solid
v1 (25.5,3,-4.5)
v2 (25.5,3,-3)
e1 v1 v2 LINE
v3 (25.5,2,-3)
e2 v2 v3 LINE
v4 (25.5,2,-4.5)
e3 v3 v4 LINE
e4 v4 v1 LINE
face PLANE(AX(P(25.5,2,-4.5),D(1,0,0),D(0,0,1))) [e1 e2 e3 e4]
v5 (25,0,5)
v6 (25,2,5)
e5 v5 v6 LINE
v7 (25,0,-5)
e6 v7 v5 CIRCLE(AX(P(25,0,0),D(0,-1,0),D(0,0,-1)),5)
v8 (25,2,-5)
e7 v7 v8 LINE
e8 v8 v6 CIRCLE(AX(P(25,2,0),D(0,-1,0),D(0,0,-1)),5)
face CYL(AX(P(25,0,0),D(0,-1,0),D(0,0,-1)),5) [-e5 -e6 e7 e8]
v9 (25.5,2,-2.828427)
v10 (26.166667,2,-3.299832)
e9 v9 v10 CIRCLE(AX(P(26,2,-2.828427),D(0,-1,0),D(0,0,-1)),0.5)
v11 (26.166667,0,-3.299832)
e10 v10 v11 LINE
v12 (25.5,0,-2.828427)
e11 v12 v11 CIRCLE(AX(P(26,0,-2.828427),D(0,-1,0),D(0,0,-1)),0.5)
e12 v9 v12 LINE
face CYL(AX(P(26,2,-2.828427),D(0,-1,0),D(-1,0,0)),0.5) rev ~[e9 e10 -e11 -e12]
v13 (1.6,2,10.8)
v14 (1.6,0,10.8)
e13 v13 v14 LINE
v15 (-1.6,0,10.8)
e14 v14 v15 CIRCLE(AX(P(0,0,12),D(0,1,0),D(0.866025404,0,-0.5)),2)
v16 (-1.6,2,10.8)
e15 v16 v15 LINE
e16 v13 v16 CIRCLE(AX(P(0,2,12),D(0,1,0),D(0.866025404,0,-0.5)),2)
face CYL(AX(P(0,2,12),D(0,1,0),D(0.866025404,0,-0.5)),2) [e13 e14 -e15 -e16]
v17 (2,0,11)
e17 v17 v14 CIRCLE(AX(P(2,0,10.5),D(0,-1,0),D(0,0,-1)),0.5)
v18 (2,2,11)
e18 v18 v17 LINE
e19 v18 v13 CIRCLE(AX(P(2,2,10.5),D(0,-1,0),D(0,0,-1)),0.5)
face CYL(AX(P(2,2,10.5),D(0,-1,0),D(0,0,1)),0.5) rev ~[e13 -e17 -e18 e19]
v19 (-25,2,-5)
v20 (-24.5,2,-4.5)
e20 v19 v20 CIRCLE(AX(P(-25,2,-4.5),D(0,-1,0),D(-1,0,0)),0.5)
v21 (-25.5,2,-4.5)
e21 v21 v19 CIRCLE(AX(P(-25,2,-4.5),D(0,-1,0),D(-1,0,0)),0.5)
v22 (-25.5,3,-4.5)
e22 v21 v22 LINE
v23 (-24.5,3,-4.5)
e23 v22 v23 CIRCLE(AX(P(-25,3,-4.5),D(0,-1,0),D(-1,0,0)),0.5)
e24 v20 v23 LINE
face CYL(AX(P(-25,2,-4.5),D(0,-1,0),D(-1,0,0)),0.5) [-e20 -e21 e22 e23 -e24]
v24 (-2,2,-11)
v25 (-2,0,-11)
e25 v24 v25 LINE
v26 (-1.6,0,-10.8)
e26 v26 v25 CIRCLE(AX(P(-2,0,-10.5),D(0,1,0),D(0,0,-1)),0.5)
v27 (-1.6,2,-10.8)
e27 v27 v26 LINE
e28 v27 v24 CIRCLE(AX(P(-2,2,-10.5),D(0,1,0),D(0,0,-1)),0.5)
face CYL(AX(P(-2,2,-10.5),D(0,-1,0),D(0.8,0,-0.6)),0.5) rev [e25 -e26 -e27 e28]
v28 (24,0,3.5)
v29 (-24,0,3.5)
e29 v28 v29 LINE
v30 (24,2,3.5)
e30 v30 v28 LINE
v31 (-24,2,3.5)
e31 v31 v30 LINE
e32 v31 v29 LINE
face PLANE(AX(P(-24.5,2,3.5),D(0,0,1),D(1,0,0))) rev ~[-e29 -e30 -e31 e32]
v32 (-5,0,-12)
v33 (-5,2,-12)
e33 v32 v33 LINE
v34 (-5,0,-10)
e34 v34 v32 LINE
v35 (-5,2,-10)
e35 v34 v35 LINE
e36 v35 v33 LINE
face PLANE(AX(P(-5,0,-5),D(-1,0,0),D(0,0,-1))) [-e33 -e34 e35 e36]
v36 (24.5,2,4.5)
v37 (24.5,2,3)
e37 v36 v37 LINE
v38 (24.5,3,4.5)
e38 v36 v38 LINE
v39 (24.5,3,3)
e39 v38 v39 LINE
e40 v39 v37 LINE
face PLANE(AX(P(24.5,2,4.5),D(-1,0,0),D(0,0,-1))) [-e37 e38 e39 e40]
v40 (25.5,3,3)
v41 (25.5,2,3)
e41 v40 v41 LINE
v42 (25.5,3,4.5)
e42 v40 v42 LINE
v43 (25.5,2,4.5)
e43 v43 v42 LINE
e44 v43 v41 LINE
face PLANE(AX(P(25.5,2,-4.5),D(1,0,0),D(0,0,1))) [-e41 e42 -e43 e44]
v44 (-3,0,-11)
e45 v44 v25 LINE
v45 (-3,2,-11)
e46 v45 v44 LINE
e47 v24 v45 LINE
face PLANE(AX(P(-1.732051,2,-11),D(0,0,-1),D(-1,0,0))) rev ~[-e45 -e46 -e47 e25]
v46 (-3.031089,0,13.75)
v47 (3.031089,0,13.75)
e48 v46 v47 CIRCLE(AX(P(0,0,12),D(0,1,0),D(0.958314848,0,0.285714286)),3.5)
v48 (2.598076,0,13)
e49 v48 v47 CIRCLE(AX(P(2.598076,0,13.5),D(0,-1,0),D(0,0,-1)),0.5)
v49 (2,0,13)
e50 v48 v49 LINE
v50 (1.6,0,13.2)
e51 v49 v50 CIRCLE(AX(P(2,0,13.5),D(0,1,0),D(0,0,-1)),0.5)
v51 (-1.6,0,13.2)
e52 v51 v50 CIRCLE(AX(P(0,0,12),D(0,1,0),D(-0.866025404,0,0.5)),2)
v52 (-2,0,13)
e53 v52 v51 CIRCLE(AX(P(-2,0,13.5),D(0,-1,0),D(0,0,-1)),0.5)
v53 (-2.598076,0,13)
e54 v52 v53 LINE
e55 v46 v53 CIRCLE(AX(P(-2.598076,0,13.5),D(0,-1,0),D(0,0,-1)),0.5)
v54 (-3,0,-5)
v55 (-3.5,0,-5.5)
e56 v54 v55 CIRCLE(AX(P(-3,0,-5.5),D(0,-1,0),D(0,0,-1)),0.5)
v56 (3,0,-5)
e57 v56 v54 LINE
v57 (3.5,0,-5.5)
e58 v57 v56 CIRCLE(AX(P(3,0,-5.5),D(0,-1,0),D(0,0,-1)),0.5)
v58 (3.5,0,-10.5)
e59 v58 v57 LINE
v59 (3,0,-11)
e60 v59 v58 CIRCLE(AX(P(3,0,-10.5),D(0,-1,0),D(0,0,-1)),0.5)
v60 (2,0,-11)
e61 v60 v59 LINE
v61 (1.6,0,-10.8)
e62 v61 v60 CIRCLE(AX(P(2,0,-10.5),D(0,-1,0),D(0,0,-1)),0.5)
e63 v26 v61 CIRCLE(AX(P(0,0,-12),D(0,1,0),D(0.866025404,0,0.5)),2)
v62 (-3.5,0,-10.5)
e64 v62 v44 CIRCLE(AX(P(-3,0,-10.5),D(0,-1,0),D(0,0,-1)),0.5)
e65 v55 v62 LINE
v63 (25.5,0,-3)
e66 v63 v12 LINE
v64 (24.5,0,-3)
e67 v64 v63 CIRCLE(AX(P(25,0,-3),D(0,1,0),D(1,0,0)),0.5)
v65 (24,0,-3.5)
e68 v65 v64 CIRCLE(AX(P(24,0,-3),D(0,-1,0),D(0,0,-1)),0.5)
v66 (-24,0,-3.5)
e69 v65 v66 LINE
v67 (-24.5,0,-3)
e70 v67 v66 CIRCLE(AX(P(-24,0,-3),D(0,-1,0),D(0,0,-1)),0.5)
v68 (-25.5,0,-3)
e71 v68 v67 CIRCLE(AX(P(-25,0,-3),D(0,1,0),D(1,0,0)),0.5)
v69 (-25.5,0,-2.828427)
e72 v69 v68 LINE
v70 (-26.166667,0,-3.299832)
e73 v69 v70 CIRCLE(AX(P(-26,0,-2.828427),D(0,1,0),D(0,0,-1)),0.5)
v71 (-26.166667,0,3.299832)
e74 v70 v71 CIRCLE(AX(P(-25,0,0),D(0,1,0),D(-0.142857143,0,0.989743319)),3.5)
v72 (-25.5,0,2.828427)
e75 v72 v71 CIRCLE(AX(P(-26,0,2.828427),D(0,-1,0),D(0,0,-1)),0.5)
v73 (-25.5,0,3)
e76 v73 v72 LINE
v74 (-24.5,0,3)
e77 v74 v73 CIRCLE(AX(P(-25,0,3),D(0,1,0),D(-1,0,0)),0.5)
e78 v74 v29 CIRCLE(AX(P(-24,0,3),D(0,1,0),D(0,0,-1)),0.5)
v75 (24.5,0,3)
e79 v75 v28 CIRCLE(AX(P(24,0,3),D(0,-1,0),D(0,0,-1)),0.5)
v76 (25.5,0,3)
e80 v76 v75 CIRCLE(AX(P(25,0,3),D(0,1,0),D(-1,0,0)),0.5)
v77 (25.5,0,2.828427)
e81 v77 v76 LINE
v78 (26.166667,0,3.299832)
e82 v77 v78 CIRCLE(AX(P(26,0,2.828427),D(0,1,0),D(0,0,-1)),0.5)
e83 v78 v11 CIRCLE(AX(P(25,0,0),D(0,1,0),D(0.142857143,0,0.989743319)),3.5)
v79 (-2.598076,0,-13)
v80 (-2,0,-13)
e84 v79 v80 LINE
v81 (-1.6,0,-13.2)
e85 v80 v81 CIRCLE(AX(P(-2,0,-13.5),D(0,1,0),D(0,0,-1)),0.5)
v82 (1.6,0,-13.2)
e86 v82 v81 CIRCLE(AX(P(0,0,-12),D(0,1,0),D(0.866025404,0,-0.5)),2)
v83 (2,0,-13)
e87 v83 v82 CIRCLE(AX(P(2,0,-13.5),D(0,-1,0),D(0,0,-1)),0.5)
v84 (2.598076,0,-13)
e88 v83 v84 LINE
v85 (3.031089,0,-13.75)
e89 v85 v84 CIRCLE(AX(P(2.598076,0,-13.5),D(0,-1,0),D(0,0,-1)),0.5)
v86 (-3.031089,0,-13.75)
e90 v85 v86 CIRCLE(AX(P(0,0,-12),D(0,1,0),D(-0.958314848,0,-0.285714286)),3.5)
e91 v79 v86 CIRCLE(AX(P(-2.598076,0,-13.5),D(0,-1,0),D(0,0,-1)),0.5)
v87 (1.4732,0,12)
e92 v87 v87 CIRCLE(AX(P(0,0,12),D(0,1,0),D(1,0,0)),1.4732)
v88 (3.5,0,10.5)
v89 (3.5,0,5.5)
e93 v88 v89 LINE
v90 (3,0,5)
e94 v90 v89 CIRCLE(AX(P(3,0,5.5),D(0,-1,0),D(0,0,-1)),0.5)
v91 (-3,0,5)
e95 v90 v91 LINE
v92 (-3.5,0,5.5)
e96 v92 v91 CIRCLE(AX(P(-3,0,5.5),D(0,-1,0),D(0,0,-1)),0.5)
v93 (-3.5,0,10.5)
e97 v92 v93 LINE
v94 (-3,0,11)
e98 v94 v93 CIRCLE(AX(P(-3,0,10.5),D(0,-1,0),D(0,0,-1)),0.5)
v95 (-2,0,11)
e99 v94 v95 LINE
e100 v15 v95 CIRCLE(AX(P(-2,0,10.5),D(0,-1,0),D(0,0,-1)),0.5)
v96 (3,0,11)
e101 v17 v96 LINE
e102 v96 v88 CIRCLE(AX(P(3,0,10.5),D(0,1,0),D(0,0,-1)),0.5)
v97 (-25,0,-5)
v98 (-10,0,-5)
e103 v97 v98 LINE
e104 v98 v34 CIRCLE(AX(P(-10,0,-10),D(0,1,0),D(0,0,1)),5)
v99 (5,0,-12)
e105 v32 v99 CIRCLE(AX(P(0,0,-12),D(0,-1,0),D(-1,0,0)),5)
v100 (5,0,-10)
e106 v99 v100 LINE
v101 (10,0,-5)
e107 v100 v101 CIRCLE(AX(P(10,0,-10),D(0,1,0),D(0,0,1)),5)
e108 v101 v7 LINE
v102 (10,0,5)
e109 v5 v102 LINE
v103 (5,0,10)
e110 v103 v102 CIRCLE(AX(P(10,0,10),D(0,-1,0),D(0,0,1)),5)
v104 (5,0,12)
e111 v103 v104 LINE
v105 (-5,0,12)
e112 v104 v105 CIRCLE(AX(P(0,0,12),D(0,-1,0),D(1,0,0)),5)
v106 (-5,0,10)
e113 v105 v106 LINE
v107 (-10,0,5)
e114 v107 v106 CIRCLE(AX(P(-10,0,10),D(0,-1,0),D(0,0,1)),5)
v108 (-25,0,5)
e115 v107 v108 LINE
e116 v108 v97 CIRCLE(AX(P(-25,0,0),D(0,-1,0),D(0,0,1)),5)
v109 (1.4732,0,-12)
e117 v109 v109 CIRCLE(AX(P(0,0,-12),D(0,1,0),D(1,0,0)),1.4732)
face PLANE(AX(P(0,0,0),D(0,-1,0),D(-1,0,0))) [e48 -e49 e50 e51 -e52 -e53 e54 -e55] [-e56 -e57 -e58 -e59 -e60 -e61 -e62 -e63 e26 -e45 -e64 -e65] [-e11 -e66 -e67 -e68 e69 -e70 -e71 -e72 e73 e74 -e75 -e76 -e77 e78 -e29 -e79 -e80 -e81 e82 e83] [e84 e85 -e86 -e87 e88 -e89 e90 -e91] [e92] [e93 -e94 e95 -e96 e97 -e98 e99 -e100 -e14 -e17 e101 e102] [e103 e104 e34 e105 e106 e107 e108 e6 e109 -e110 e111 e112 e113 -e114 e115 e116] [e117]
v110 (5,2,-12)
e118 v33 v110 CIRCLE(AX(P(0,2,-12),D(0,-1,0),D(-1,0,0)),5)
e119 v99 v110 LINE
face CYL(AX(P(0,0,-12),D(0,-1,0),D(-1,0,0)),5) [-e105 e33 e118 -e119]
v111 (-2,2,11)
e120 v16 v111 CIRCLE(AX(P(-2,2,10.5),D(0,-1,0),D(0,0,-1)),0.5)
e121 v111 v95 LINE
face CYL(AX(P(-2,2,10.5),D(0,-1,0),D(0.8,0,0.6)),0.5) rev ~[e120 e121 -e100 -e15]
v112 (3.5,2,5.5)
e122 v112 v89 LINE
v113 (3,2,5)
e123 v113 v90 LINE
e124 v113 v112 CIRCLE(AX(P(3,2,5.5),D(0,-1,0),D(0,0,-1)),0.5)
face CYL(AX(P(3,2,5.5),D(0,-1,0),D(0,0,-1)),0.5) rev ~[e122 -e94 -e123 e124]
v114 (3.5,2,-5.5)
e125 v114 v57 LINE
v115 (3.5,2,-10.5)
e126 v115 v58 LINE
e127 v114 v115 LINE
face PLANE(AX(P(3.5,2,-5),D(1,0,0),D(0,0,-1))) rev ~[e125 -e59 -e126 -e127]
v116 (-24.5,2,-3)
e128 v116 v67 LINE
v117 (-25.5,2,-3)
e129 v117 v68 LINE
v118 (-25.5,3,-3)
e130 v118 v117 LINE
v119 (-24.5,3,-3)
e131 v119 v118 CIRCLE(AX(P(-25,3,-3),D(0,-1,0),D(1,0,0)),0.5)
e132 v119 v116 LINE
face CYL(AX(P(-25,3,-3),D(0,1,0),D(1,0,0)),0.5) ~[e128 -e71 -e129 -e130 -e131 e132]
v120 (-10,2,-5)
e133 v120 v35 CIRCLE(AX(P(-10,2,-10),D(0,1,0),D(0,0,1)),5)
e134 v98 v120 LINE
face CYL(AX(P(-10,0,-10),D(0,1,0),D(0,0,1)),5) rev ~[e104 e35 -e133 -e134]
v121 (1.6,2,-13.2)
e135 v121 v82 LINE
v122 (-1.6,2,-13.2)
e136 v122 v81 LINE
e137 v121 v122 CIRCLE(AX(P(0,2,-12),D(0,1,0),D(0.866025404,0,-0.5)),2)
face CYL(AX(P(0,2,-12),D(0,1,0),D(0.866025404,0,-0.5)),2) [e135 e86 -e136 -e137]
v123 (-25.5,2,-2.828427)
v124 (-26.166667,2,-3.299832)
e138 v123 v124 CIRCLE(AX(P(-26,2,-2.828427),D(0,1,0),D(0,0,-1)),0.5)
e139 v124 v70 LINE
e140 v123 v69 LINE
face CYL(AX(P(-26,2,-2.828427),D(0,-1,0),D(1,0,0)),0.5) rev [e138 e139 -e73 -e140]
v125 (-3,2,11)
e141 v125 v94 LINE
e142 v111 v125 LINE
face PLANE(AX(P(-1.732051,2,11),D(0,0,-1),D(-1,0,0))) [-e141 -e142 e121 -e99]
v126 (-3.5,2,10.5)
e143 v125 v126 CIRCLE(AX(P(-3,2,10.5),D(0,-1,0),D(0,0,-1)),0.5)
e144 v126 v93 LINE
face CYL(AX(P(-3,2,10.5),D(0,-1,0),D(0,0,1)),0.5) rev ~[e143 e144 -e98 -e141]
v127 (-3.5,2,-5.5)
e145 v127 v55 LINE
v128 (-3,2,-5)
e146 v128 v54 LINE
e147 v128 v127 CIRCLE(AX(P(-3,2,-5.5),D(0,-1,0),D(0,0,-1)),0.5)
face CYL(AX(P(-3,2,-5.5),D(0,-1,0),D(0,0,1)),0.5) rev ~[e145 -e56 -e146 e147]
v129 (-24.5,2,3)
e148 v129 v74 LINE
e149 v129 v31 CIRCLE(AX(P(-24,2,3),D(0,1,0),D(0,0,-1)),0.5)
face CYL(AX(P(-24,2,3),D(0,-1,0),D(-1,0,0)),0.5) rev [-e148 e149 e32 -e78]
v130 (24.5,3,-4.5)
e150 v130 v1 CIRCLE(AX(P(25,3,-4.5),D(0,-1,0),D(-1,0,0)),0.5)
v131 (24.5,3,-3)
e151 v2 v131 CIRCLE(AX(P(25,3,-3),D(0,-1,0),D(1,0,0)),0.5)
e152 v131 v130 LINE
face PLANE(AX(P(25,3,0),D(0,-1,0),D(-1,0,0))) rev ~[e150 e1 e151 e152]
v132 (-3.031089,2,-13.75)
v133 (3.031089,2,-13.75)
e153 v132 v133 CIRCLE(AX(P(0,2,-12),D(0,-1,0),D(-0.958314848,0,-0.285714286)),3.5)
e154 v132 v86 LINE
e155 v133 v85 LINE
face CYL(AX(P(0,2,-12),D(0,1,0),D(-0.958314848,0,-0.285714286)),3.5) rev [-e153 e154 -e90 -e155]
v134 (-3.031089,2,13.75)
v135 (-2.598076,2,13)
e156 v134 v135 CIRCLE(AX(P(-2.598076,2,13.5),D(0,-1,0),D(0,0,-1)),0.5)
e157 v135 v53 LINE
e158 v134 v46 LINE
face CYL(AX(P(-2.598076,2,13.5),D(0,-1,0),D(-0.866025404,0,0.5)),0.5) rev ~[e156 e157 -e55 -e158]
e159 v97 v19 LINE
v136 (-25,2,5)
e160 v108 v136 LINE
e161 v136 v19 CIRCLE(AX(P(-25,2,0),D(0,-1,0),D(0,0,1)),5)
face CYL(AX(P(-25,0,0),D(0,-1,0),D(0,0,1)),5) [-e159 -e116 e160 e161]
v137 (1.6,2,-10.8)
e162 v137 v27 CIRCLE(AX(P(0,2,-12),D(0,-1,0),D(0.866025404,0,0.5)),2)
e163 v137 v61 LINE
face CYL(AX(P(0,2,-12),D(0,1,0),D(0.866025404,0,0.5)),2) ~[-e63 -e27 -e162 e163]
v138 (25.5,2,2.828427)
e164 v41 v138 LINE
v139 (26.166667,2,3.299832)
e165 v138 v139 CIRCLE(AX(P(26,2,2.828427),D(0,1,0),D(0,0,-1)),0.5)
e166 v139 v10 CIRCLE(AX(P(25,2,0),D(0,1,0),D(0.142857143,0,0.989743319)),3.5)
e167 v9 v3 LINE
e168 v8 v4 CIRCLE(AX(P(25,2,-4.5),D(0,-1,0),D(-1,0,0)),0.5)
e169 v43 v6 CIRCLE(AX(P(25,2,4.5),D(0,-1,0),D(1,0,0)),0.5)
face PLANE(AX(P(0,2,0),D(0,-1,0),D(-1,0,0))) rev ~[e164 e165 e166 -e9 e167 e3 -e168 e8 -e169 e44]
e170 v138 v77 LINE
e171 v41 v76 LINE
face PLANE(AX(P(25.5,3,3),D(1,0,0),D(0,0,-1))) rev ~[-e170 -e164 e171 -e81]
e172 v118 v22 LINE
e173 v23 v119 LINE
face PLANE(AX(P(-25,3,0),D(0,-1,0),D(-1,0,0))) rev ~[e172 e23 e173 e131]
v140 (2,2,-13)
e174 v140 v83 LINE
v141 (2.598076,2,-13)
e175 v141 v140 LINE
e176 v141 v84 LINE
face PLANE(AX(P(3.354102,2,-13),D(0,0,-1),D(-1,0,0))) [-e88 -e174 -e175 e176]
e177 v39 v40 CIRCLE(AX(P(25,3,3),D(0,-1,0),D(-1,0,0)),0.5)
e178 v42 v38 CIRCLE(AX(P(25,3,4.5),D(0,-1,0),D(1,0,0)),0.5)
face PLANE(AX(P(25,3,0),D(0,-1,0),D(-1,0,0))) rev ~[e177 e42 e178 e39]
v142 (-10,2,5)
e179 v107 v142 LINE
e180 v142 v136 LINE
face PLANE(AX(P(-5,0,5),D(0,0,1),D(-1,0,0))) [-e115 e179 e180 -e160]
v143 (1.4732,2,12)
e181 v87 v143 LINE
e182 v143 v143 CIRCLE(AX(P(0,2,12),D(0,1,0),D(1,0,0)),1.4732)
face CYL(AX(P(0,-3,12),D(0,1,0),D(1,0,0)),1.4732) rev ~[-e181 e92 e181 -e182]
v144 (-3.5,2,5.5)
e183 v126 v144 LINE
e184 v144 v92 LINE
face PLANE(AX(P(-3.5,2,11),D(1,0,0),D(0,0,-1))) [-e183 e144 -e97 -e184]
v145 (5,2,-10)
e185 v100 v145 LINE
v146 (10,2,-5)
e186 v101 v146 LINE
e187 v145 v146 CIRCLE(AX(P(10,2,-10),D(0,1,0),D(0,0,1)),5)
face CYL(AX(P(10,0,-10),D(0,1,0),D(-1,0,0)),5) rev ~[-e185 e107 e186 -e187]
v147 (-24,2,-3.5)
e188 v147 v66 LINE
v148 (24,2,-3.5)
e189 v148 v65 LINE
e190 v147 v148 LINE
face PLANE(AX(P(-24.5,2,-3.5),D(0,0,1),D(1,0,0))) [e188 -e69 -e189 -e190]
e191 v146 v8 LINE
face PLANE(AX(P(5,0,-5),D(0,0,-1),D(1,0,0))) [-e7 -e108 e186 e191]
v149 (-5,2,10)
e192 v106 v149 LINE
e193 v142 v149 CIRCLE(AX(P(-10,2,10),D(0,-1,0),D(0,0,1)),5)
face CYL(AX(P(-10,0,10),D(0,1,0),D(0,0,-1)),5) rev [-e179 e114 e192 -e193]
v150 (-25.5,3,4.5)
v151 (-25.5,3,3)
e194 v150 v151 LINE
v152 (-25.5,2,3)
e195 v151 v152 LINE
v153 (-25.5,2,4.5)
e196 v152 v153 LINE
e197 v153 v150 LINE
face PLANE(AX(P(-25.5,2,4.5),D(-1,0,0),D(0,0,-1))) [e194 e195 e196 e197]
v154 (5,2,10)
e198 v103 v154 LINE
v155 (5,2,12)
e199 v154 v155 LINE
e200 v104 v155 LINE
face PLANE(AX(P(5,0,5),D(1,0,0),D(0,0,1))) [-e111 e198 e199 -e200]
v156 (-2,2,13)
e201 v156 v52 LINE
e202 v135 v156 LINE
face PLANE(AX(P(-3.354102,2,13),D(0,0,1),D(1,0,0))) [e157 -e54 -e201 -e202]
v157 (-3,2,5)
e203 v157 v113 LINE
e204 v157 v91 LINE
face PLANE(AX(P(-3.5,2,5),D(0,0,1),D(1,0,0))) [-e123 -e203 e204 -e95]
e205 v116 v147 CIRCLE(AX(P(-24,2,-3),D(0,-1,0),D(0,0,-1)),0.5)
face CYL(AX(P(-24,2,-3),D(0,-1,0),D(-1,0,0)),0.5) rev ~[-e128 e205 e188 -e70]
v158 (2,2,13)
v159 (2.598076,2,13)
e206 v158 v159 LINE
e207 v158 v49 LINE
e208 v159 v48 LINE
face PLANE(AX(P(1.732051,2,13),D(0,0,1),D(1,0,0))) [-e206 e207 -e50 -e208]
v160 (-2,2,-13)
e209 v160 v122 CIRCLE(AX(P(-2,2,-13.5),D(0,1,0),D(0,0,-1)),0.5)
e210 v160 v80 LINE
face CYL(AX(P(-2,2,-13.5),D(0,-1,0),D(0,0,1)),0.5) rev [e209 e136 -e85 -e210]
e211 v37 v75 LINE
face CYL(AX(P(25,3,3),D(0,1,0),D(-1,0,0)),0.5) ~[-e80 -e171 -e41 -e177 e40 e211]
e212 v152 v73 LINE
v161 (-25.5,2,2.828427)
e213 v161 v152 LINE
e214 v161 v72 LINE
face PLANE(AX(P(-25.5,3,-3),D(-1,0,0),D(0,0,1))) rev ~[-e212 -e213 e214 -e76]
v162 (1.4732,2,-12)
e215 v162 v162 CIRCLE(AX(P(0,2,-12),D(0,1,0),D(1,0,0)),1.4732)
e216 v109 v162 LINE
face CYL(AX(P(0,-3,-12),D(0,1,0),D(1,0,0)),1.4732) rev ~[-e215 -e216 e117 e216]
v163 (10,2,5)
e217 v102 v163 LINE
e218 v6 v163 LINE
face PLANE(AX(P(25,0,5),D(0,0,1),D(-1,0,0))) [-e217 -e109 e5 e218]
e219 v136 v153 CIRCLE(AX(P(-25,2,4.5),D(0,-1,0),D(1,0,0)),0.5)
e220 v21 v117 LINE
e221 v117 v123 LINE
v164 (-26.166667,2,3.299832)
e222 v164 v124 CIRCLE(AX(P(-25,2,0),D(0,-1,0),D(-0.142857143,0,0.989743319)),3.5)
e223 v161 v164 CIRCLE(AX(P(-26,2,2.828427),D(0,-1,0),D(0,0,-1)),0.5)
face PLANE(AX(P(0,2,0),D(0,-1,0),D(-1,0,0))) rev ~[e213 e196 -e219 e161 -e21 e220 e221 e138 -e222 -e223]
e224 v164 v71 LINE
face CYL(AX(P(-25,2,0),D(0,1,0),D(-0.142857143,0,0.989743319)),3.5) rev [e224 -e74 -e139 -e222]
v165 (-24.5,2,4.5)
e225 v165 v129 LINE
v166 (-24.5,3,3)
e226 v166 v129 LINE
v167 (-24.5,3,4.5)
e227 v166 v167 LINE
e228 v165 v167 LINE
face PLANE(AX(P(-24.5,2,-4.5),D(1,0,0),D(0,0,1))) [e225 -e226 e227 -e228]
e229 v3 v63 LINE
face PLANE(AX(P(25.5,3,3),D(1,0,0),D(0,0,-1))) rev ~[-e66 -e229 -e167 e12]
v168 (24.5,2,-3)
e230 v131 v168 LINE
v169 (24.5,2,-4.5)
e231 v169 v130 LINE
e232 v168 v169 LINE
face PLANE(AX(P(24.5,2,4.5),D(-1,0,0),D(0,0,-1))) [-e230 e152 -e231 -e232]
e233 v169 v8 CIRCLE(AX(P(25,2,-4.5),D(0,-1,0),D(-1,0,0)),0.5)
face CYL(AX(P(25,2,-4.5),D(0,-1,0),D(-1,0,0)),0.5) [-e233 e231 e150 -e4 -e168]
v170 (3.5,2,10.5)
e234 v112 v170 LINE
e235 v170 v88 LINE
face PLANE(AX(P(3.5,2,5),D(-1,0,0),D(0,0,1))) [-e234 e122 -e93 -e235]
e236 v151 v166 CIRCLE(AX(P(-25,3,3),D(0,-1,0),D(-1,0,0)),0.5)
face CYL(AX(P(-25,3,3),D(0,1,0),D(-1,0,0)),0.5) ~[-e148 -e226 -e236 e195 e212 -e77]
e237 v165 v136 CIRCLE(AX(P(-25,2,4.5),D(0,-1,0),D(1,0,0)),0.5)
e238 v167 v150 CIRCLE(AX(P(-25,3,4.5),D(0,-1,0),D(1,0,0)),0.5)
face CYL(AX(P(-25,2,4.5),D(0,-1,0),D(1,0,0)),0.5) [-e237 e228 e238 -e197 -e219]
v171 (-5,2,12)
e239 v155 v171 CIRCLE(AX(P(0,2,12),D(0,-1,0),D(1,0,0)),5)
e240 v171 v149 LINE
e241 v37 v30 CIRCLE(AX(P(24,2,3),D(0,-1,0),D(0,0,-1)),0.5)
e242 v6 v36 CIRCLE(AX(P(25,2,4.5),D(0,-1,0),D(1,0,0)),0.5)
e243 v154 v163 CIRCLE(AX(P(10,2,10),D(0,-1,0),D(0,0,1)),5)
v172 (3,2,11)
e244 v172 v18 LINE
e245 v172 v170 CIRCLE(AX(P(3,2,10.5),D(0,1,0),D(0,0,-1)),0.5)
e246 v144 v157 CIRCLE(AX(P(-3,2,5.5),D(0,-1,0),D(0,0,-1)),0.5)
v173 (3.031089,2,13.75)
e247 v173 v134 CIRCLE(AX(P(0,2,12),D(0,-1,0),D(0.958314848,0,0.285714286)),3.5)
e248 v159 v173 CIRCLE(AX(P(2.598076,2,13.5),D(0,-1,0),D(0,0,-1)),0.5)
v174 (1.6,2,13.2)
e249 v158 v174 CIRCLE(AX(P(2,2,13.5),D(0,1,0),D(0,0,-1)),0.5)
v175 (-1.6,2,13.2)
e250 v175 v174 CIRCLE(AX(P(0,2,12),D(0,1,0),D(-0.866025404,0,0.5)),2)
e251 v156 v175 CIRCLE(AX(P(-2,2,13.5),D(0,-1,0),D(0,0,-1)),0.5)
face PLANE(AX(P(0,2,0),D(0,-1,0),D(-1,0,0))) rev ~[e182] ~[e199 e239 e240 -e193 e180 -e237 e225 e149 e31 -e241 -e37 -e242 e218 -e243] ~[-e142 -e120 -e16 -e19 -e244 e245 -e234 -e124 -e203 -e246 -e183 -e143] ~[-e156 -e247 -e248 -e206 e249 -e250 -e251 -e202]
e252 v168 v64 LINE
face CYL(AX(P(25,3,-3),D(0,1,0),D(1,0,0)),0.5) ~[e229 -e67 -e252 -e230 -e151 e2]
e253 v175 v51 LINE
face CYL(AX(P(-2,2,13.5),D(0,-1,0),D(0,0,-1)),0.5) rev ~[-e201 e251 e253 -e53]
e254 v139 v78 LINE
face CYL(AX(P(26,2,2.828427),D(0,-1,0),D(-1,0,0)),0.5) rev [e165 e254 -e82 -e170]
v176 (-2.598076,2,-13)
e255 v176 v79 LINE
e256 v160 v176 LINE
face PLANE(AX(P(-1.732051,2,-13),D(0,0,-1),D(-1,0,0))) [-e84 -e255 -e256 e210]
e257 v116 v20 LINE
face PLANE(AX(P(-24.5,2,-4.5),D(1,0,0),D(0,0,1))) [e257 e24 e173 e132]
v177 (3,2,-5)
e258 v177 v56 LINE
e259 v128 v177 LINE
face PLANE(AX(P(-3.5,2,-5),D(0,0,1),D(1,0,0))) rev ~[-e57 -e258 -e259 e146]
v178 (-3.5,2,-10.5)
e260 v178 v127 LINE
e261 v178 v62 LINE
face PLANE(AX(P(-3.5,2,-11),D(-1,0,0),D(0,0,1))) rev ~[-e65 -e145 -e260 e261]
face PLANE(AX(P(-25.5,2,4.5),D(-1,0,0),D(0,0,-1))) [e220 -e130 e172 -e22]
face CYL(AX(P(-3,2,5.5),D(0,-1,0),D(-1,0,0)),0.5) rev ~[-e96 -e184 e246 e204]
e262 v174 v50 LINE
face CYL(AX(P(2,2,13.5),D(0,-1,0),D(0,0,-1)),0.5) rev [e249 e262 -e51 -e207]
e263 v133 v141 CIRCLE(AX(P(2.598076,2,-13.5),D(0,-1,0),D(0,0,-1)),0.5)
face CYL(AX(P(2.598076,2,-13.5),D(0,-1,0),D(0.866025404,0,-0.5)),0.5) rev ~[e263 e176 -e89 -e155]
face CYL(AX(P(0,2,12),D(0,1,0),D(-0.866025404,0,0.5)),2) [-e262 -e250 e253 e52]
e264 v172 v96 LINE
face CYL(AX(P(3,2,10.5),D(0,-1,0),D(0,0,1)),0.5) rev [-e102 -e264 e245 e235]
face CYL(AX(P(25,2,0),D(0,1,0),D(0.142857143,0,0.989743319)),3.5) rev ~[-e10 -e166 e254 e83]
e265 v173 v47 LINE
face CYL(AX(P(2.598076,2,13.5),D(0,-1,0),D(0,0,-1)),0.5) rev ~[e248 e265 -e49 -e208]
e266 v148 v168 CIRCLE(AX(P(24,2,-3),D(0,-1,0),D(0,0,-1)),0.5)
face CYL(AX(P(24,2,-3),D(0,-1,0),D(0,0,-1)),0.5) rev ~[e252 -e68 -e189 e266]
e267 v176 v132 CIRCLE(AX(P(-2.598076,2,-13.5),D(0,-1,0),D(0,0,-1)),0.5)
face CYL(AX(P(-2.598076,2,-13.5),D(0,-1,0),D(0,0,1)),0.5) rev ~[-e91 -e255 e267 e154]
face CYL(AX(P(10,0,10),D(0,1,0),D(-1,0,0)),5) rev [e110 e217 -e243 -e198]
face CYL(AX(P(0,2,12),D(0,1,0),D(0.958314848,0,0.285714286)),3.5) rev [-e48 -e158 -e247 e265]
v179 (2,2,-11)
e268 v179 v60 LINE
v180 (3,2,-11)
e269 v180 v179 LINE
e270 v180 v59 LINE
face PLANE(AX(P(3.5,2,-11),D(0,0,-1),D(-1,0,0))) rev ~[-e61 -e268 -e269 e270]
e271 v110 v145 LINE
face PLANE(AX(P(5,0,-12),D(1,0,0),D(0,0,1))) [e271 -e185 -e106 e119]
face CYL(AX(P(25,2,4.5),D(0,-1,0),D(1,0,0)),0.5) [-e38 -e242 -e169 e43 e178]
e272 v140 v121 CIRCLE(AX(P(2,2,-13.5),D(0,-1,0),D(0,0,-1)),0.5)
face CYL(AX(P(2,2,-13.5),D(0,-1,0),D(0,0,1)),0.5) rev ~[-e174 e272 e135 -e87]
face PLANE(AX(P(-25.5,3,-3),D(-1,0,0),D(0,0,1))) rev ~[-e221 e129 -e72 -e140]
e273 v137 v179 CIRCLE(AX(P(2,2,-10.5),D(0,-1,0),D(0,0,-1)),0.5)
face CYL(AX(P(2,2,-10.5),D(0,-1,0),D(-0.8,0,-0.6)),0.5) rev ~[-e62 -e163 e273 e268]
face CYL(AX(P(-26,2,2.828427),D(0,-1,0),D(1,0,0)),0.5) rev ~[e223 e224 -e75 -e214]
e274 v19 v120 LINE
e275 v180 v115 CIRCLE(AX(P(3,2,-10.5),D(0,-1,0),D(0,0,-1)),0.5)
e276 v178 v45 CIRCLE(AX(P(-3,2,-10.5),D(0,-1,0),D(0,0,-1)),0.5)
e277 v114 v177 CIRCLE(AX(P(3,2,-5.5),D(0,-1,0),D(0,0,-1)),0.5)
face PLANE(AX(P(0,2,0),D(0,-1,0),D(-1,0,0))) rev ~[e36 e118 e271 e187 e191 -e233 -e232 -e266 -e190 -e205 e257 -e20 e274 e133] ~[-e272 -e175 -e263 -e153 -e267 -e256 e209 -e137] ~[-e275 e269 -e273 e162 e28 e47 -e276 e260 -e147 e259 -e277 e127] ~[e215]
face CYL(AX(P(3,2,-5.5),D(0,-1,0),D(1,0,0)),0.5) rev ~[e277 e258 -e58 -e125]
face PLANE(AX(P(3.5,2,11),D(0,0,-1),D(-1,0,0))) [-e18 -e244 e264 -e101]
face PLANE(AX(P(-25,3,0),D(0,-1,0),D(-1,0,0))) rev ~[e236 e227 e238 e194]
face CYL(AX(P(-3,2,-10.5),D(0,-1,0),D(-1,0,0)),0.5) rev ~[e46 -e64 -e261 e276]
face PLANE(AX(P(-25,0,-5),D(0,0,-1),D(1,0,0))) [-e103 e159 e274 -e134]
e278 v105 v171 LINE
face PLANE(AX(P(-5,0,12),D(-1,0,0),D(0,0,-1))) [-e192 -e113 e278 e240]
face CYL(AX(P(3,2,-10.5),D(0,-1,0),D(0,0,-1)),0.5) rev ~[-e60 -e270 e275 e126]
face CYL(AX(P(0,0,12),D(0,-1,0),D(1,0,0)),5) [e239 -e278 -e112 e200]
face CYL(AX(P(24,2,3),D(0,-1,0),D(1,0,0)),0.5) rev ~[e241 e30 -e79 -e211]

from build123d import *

# Parameters (mm, degrees)
SKETCH1_R                 = 1
BOSS_EXTRUDE1_DEPTH       = 2
BOSS_EXTRUDE2_DEPTH       = 1
SKETCH3_W                 = 49
SKETCH3_H                 = 7
CUT_EXTRUDE1_DEPTH        = 35.539832078
FILLET2_R                 = 0.5
F_4_CLEARANCE_HOLE1_D     = 2.9464
F_4_CLEARANCE_HOLE1_DEPTH = 3
FILLET3_R                 = 5
CUT_EXTRUDE2_DEPTH        = 35.6121366


with BuildPart() as part:
    # Sketch1 → Boss-Extrude1 (new body)
    with BuildSketch(Plane(origin=(0, 0, 0), x_dir=(1, 0, 0), z_dir=(0, 1, 0))):
        with BuildLine():
            Line((-25, 5), (-5, 5))
            Line((-5, 5), (-5, 12))
            ThreePointArc((-5, 12), (0, 17), (5, 12))
            Line((5, 12), (5, 5))
            Line((5, 5), (25, 5))
            ThreePointArc((25, 5), (30, 0), (25, -5))
            Line((25, -5), (5, -5))
            Line((5, -5), (5, -12))
            ThreePointArc((5, -12), (0, -17), (-5, -12))
            Line((-5, -12), (-5, -5))
            Line((-5, -5), (-25, -5))
            ThreePointArc((-25, -5), (-30, 0), (-25, 5))
        make_face()
        with Locations(Location((0, 12, 0), (0, 0, 270))):
            Circle(SKETCH1_R, mode=Mode.SUBTRACT)
        with Locations(Location((0, -12, 0), (0, 0, 270))):
            Circle(SKETCH1_R, mode=Mode.SUBTRACT)
    extrude(amount=BOSS_EXTRUDE1_DEPTH)

    # Sketch2 → Boss-Extrude2 (add)
    with BuildSketch(Plane(origin=(0, 2, 0), x_dir=(1, 0, 0), z_dir=(0, 1, 0))):
        with BuildLine():
            Line((-24.5, 4.5), (-24.5, -4.5))
            ThreePointArc((-24.5, -4.5), (-25, -5), (-25.5, -4.5))
            Line((-25.5, -4.5), (-25.5, 4.5))
            ThreePointArc((-25.5, 4.5), (-25, 5), (-24.5, 4.5))
        make_face()
        with BuildLine():
            Line((25.5, 4.5), (25.5, -4.5))
            ThreePointArc((25.5, -4.5), (25, -5), (24.5, -4.5))
            Line((24.5, -4.5), (24.5, 4.5))
            ThreePointArc((24.5, 4.5), (25, 5), (25.5, 4.5))
        make_face()
    extrude(amount=BOSS_EXTRUDE2_DEPTH)

    # Sketch3 → Cut-Extrude1 (cut, through all)
    with BuildSketch(Plane(origin=(0, 2, 0), x_dir=(1, 0, 0), z_dir=(0, 1, 0))):
        Rectangle(SKETCH3_W, SKETCH3_H)
        with BuildLine():
            Line((-25.5, 3.464101615), (-25.5, -3.464101615))
            ThreePointArc((-25.5, -3.464101615), (-28.5, 0), (-25.5, 3.464101615))
        make_face()
        with BuildLine():
            Line((25.5, 3.464101615), (25.5, -3.464101615))
            ThreePointArc((25.5, -3.464101615), (28.5, 0), (25.5, 3.464101615))
        make_face()
        with BuildLine():
            Line((-1.732050808, 13), (-3.354101966, 13))
            ThreePointArc((-3.354101966, 13), (0, 15.5), (3.354101966, 13))
            Line((3.354101966, 13), (1.732050808, 13))
            ThreePointArc((1.732050808, 13), (0, 14), (-1.732050808, 13))
        make_face()
        with BuildLine():
            Line((-1.732050808, 11), (-3.5, 11))
            Line((-3.5, 11), (-3.5, 5))
            Line((-3.5, 5), (3.5, 5))
            Line((3.5, 5), (3.5, 11))
            Line((3.5, 11), (1.732050808, 11))
            ThreePointArc((1.732050808, 11), (0, 10), (-1.732050808, 11))
        make_face()
        with BuildLine():
            Line((1.732050808, -13), (3.354101966, -13))
            ThreePointArc((3.354101966, -13), (0, -15.5), (-3.354101966, -13))
            Line((-3.354101966, -13), (-1.732050808, -13))
            ThreePointArc((-1.732050808, -13), (0, -14), (1.732050808, -13))
        make_face()
        with BuildLine():
            Line((3.5, -11), (1.732050808, -11))
            ThreePointArc((1.732050808, -11), (0, -10), (-1.732050808, -11))
            Line((-1.732050808, -11), (-3.5, -11))
            Line((-3.5, -11), (-3.5, -5))
            Line((-3.5, -5), (3.5, -5))
            Line((3.5, -5), (3.5, -11))
        make_face()
    extrude(amount=-CUT_EXTRUDE1_DEPTH, mode=Mode.SUBTRACT)

    # Fillet2
    fillet2_edges = [part.edges().sort_by_distance(p)[0] for p in [
        (3.5, 1, 5),
        (3.5, 1, 11),
        (1.732050808, 1, 11),
        (-1.732050808, 1, 11),
        (-3.5, 1, 11),
        (-3.5, 1, 5),
        (-1.732050808, 1, 13),
        (1.732050808, 1, 13),
        (3.354101966, 1, 13),
        (-3.354101966, 1, 13),
        (1.732050808, 1, -13),
        (-1.732050808, 1, -13),
        (-3.354101966, 1, -13),
        (3.354101966, 1, -13),
        (-1.732050808, 1, -11),
        (1.732050808, 1, -11),
        (3.5, 1, -11),
        (3.5, 1, -5),
        (-3.5, 1, -5),
        (-3.5, 1, -11),
        (25.5, 1, -3.464101615),
        (25.5, 1, 3.464101615),
        (-25.5, 1, 3.464101615),
        (-25.5, 1, -3.464101615),
        (-24.5, 1, 3.5),
        (-24.5, 1, -3.5),
        (24.5, 1, -3.5),
        (24.5, 1, 3.5),
    ]]
    fillet(fillet2_edges, radius=FILLET2_R)

    # #4 Clearance Hole1
    with Locations(Plane(origin=(0, 0, 0), x_dir=(-1, 0, 0), z_dir=(0, -1, 0))):
        with Locations((0, 12), (0, -12)):
            Hole(F_4_CLEARANCE_HOLE1_D / 2, depth=F_4_CLEARANCE_HOLE1_DEPTH)

    # Fillet3
    fillet3_edges = [part.edges().sort_by_distance(p)[0] for p in [
        (-5, 1, -5),
        (5, 1, -5),
        (5, 1, 5),
        (-5, 1, 5),
    ]]
    fillet(fillet3_edges, radius=FILLET3_R)

    # Sketch6 → Cut-Extrude2 (cut, through all)
    with BuildSketch(Plane(origin=(0, 3, 0), x_dir=(1, 0, 0), z_dir=(0, 1, 0))):
        with BuildLine():
            Line((-25.5, 3), (-25.5, -3))
            ThreePointArc((-25.5, -3), (-25, -2.5), (-24.5, -3))
            Line((-24.5, -3), (-24.5, 3))
            ThreePointArc((-24.5, 3), (-25, 2.5), (-25.5, 3))
        make_face()
        with BuildLine():
            Line((24.5, 3), (24.5, -3))
            ThreePointArc((24.5, -3), (25, -2.5), (25.5, -3))
            Line((25.5, -3), (25.5, 3))
            ThreePointArc((25.5, 3), (25, 2.5), (24.5, 3))
        make_face()
    extrude(amount=-CUT_EXTRUDE2_DEPTH, mode=Mode.SUBTRACT)


solid = part.part
